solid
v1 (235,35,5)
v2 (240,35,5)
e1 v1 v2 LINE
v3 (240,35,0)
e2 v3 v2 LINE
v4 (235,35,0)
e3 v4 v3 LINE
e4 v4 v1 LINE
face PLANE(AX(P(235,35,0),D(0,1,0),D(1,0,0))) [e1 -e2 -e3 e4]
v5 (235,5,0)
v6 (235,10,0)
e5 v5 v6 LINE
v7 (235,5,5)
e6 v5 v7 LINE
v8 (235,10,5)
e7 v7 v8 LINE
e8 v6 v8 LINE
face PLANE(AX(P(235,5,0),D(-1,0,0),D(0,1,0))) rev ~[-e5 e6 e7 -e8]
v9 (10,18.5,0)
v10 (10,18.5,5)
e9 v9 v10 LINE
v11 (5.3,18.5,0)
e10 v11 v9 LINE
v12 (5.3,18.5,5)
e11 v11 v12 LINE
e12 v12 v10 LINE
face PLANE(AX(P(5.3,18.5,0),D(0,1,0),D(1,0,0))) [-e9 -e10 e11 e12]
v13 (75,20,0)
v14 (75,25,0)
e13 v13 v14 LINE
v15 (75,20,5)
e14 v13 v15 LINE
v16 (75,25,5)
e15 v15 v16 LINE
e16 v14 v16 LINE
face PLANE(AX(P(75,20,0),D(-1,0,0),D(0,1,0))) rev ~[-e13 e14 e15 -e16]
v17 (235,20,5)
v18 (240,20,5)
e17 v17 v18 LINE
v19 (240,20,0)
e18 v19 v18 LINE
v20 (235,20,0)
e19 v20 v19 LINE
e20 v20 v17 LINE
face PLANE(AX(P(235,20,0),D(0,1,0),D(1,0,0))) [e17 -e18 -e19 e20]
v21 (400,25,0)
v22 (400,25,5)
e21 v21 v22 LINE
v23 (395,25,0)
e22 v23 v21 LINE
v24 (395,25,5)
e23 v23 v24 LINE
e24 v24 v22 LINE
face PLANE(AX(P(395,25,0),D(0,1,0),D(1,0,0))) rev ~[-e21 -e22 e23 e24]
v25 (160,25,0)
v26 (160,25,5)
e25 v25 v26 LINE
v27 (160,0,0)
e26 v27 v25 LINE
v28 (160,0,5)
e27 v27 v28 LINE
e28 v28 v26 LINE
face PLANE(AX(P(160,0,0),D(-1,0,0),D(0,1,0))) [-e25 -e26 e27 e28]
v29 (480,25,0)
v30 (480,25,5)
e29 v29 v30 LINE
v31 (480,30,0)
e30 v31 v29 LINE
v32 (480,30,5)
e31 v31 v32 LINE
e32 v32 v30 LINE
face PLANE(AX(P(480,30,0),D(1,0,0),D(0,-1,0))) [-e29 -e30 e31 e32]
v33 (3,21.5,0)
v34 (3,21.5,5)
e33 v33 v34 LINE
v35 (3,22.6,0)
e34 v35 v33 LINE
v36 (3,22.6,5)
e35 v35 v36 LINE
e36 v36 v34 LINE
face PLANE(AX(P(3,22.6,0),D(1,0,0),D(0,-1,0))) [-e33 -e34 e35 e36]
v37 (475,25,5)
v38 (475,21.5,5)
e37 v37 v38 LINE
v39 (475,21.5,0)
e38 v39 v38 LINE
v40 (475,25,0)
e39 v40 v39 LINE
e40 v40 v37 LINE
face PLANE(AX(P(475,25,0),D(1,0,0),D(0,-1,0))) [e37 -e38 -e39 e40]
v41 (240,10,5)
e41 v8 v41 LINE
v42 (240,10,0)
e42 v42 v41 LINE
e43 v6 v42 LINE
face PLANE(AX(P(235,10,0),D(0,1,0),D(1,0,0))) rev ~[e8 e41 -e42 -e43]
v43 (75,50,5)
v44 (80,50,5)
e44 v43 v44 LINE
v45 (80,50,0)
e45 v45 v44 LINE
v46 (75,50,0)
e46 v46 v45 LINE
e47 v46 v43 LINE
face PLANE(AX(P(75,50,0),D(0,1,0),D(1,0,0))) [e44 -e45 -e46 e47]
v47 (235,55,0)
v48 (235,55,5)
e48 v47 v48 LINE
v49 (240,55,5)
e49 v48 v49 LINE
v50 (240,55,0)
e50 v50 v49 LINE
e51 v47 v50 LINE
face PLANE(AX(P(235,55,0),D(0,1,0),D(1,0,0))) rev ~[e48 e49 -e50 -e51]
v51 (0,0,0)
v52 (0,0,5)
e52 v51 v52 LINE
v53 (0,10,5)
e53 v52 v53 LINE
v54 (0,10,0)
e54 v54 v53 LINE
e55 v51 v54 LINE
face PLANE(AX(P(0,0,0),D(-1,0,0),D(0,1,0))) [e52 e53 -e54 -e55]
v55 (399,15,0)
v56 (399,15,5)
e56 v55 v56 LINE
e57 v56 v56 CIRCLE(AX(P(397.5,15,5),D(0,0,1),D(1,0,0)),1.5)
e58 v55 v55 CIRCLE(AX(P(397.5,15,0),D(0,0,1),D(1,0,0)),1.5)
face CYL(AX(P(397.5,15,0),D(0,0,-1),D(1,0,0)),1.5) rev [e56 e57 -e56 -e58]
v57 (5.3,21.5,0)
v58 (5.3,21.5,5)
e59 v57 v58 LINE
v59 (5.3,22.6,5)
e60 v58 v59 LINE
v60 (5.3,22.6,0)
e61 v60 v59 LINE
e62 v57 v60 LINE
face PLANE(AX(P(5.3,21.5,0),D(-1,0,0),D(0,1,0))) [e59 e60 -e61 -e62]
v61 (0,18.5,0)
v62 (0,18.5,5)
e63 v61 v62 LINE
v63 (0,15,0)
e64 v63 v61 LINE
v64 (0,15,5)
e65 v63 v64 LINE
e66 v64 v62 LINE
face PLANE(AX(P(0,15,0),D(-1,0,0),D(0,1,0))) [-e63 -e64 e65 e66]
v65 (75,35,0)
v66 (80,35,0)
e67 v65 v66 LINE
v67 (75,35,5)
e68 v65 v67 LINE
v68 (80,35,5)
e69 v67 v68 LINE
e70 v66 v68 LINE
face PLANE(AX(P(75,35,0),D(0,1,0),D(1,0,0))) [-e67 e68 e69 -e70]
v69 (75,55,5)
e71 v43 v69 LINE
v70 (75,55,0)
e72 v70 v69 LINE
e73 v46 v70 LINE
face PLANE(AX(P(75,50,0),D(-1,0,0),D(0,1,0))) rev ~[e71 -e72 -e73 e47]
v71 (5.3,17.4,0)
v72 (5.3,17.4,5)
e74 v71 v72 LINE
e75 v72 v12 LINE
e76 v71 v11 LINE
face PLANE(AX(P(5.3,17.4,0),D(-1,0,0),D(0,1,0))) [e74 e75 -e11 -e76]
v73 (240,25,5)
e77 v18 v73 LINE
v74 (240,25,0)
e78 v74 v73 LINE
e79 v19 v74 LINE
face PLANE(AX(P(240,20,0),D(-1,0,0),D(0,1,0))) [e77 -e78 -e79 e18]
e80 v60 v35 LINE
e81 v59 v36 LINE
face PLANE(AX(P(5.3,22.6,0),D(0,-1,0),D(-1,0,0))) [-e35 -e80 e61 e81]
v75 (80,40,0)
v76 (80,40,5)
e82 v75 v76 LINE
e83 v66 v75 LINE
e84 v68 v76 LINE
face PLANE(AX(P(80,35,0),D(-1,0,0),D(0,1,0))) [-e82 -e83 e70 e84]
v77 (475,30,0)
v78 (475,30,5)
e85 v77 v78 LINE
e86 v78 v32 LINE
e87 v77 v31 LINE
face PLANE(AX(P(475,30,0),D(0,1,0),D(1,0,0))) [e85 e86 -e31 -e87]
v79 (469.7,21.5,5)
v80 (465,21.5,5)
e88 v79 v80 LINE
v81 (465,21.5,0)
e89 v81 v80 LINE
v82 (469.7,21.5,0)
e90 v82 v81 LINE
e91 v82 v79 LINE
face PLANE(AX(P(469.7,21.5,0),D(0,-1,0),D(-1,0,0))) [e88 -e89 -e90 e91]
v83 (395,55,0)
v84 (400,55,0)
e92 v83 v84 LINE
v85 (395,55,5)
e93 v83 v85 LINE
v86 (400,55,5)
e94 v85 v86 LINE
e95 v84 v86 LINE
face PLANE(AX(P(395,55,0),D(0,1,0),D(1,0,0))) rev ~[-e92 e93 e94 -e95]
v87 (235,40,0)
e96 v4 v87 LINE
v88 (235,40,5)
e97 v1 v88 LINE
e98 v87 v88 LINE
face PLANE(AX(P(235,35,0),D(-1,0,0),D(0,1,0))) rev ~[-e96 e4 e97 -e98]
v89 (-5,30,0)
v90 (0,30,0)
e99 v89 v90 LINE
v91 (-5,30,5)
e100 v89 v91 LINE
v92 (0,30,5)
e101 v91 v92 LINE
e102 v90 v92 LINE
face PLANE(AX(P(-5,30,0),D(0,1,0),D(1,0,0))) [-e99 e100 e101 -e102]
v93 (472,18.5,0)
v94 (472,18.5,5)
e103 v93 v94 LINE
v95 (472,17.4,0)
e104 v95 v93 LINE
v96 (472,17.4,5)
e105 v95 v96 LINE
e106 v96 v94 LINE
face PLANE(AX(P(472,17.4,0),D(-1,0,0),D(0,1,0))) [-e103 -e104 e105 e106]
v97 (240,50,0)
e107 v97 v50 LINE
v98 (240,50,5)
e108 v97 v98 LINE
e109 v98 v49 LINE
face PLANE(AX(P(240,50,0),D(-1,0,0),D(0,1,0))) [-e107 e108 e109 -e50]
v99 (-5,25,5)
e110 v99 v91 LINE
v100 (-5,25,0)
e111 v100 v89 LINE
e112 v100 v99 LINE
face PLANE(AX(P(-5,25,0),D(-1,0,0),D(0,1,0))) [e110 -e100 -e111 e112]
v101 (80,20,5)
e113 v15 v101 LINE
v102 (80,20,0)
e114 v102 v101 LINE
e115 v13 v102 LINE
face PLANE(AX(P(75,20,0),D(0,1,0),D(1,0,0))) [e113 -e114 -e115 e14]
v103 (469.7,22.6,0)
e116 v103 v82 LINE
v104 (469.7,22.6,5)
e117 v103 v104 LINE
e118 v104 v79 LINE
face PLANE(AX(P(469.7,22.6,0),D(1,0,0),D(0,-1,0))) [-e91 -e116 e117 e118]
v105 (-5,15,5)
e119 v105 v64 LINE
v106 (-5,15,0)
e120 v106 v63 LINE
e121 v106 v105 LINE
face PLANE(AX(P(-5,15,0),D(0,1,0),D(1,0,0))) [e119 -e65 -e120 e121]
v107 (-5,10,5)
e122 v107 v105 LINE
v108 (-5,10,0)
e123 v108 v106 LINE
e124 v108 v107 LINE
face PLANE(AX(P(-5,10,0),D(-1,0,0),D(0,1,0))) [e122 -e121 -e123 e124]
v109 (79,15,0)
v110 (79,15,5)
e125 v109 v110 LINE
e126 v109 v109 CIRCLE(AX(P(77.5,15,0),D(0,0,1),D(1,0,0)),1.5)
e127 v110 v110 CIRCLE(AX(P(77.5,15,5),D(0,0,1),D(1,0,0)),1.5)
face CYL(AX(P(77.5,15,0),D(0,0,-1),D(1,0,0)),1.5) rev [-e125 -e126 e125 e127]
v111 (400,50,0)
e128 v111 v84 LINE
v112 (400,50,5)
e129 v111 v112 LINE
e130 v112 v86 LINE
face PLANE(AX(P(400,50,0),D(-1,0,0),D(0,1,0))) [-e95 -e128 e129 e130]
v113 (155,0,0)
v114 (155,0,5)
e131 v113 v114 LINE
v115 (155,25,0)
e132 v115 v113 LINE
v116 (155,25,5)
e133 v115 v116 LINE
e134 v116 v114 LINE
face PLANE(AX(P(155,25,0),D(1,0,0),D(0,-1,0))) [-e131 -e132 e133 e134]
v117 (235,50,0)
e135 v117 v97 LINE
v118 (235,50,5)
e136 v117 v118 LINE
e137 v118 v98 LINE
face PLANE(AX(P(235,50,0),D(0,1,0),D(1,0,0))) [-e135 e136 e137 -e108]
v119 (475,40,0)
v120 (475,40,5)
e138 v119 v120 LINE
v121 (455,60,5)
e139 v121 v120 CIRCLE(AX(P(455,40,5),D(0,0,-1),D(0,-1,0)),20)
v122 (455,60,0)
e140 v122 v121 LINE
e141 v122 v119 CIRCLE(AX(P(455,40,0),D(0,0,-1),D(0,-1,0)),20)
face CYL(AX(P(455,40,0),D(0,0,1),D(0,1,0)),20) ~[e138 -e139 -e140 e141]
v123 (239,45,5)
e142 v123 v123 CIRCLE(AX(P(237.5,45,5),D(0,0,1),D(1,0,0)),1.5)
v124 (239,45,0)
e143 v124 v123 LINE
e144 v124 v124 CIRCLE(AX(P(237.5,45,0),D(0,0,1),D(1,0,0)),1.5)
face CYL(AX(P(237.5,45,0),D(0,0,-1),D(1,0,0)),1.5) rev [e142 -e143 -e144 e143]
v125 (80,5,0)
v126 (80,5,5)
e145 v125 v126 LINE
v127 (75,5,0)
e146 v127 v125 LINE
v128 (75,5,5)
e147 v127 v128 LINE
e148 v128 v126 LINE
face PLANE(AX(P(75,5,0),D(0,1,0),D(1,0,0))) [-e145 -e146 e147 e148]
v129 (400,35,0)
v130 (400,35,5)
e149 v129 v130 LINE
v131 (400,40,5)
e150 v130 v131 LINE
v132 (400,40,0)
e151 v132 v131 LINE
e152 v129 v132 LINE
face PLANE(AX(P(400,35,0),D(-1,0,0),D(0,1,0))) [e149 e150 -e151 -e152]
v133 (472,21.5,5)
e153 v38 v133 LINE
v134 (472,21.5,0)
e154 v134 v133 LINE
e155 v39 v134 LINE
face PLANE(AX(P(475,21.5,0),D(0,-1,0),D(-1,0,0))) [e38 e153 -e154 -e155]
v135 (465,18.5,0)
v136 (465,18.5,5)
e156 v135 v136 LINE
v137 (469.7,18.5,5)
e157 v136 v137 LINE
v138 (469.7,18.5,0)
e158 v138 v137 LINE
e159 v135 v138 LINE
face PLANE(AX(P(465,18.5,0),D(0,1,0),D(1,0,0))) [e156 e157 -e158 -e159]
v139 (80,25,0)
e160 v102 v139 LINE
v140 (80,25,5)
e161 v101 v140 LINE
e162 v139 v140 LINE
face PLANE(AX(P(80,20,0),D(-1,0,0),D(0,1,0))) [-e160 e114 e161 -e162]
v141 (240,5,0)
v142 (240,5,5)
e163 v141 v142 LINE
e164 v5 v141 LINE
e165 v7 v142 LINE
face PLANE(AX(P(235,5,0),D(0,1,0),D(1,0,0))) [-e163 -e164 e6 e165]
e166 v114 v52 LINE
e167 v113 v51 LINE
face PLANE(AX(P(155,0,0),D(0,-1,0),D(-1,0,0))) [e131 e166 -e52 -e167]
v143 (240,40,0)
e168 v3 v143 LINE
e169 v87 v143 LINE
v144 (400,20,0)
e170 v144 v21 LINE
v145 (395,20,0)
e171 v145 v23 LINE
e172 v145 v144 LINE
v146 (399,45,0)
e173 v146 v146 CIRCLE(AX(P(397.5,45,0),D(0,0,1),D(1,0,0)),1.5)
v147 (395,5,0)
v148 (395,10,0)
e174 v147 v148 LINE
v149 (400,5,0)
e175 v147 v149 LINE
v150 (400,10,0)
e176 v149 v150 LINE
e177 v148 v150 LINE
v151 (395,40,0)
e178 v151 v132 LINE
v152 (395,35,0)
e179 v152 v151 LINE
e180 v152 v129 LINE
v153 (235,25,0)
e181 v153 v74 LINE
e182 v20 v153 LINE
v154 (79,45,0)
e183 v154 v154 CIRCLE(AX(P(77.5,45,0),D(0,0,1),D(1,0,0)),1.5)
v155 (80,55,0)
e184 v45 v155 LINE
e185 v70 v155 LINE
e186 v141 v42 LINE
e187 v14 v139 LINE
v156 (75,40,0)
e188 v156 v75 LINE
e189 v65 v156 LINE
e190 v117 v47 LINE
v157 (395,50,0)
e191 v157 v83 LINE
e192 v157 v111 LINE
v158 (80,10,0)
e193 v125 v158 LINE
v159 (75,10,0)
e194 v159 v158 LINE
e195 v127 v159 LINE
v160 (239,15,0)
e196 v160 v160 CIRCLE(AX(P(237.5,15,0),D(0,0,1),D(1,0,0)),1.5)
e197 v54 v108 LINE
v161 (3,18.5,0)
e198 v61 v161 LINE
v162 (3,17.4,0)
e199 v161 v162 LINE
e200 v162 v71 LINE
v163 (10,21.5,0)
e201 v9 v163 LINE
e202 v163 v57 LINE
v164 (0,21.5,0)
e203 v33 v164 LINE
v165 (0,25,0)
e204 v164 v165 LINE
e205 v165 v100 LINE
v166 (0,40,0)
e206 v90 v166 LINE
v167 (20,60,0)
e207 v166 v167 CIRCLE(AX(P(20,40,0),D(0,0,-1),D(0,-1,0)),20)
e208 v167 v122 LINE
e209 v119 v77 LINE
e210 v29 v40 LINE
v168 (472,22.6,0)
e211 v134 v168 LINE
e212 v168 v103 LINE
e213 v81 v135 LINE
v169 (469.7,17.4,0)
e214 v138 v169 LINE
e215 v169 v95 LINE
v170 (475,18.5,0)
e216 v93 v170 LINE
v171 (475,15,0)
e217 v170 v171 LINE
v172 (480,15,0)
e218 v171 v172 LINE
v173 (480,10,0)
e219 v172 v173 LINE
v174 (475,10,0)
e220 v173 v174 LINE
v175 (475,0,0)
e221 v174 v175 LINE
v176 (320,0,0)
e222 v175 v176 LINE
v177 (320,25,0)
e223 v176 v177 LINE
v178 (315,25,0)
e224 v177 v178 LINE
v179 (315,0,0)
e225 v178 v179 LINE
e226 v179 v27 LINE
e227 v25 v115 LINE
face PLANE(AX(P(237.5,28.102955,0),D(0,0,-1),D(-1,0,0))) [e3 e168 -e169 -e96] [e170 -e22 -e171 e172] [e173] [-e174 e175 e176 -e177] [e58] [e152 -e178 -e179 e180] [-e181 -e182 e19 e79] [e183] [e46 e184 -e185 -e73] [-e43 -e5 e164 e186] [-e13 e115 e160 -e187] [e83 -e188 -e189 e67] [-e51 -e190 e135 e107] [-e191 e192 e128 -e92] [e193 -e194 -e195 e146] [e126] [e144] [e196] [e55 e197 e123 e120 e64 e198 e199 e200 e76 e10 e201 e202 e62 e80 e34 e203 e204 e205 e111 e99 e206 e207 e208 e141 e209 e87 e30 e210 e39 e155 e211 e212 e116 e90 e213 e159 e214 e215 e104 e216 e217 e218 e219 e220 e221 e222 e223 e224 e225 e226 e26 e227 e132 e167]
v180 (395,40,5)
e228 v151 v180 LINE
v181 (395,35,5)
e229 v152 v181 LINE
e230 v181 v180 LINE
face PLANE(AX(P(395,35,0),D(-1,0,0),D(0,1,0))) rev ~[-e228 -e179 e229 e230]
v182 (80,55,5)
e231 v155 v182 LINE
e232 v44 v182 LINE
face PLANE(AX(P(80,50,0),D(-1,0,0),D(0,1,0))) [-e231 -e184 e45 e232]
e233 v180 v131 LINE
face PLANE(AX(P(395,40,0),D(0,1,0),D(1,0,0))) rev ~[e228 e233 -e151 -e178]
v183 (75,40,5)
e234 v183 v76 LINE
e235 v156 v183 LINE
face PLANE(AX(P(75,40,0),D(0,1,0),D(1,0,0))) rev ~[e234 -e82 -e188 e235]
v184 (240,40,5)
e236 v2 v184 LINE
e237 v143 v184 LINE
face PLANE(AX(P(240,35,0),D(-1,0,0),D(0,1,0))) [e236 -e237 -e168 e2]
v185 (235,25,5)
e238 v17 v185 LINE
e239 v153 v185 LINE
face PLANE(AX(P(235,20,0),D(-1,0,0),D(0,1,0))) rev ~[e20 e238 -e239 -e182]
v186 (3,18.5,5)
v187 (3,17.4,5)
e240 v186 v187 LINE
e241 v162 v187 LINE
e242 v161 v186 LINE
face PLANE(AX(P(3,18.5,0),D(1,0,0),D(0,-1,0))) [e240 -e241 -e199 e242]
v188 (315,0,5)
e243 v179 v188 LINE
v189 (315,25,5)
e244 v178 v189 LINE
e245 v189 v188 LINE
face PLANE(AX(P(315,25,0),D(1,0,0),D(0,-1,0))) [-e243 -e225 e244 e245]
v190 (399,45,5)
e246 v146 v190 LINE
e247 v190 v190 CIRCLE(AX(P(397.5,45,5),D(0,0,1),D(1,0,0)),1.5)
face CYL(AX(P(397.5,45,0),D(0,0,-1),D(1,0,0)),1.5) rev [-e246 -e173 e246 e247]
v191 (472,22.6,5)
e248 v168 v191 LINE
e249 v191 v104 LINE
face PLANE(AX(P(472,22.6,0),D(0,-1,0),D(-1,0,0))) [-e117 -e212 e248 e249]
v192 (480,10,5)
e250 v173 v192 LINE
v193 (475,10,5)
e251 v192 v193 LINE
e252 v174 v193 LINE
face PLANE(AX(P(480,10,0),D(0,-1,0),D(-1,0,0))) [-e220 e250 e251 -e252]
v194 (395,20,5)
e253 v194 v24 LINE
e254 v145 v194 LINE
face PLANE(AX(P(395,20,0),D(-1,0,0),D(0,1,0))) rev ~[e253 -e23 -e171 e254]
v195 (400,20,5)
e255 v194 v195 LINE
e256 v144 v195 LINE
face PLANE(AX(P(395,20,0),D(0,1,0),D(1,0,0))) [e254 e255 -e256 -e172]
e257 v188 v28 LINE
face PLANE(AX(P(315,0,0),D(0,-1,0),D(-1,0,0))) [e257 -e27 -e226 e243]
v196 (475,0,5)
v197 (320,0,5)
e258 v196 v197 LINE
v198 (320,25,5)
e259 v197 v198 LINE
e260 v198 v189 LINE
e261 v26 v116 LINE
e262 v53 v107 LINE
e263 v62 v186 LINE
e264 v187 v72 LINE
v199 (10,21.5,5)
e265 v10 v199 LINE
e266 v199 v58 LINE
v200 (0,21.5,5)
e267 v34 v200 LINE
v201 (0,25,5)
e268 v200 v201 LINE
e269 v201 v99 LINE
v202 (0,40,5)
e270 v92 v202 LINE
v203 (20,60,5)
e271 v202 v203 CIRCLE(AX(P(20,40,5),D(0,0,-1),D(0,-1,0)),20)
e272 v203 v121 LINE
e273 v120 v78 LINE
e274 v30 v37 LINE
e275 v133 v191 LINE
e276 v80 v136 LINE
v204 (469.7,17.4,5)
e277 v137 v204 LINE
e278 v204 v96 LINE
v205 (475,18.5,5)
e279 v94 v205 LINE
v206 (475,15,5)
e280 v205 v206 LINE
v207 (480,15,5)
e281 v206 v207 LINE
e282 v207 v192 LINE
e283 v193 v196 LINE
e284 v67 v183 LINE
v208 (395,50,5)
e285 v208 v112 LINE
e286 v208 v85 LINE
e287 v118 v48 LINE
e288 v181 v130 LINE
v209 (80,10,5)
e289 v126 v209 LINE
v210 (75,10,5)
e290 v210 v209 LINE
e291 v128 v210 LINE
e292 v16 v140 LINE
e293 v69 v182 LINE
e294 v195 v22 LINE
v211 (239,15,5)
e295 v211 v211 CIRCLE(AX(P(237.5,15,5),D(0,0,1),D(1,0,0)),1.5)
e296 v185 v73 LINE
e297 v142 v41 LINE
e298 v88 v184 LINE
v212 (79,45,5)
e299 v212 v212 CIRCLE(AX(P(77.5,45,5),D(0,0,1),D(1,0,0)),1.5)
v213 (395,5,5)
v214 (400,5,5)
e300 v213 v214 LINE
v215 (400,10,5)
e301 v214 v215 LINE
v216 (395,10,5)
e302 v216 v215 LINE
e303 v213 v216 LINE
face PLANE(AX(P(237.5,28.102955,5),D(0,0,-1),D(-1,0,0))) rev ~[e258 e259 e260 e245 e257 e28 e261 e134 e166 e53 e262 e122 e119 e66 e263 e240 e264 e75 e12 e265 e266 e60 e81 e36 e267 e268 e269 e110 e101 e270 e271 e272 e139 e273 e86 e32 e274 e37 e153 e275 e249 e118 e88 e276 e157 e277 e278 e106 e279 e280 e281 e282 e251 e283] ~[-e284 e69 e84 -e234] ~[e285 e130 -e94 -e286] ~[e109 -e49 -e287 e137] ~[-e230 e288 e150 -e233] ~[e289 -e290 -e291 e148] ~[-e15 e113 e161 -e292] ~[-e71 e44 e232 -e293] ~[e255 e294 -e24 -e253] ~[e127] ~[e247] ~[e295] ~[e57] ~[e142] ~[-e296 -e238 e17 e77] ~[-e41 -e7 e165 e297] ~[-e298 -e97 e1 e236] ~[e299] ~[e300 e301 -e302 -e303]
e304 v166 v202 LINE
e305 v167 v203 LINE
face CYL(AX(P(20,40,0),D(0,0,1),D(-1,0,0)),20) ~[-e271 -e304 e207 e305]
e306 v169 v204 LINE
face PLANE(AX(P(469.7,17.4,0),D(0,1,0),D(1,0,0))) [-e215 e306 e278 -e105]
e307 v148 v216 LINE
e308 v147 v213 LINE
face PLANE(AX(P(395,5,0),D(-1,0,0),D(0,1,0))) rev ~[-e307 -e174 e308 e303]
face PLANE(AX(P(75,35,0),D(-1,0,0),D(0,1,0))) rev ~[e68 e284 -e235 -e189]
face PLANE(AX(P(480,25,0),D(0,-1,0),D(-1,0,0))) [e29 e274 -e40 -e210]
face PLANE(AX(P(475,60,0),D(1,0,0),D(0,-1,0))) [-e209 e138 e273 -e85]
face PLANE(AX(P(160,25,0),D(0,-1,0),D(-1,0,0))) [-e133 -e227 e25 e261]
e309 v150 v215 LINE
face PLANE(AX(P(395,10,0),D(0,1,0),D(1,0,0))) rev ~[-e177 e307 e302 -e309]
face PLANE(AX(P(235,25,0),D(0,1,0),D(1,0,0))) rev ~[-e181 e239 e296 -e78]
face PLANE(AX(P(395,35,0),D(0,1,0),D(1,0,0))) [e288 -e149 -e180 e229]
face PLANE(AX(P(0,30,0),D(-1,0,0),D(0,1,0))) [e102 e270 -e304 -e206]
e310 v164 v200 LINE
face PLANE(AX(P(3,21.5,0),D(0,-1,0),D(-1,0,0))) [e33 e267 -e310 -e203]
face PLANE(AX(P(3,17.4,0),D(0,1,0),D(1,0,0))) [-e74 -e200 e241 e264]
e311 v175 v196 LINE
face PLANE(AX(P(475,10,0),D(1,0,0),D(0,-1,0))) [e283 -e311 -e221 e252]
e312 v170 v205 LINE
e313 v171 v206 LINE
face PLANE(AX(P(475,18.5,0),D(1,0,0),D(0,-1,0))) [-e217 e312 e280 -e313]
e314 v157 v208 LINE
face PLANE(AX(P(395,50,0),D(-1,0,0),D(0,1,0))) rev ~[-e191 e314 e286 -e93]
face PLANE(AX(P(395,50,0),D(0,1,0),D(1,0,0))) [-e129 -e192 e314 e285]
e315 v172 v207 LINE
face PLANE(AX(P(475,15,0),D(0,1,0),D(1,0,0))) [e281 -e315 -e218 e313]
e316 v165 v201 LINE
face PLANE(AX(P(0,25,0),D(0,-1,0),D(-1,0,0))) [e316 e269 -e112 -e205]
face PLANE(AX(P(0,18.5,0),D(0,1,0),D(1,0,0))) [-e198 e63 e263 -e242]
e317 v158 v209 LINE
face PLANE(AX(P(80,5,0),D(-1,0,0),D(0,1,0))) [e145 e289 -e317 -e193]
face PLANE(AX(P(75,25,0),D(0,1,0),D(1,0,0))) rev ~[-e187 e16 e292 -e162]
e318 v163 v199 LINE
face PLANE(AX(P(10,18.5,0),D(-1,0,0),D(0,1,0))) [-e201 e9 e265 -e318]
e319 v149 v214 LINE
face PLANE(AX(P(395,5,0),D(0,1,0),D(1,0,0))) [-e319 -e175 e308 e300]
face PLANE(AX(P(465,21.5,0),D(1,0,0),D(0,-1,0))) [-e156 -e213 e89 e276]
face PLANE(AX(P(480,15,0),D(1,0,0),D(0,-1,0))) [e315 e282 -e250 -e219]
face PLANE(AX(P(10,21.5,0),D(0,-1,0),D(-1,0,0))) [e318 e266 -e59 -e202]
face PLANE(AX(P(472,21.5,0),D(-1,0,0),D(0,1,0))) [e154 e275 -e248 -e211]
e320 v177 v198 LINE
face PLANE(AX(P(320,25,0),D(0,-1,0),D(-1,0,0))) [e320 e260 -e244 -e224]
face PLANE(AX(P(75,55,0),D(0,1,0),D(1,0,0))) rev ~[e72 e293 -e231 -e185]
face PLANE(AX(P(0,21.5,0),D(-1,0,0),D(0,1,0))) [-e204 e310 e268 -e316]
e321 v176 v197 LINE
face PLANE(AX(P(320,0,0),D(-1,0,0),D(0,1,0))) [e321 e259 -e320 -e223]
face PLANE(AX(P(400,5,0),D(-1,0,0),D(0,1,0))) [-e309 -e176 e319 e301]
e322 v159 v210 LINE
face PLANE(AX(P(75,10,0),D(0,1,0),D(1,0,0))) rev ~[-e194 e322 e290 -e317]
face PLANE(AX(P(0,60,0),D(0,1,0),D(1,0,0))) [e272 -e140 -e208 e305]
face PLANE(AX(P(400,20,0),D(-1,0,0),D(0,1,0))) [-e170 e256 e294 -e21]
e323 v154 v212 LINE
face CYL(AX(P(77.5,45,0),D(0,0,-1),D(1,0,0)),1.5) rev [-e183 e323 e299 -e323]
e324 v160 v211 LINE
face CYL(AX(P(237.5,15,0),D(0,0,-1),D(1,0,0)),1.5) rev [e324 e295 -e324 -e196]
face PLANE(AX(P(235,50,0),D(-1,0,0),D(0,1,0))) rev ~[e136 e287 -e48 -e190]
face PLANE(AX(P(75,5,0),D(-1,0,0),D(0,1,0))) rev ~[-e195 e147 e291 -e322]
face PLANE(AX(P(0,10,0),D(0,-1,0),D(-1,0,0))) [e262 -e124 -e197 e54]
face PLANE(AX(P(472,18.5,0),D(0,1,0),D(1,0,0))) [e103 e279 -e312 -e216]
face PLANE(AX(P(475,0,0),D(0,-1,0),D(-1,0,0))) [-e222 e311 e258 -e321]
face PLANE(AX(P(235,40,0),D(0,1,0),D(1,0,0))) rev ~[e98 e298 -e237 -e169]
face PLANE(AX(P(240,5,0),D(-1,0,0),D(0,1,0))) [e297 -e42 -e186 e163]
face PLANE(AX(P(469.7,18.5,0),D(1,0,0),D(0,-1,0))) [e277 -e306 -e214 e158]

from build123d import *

# Parameters (mm, degrees)
ESQUISSE1_R        = 1.5
ESQUISSE1_W        = 5
ESQUISSE1_H        = 5
BOSS_EXTRU_1_DEPTH = 5
CONG_1_R           = 20


with BuildPart() as part:
    # Esquisse1 → Boss.-Extru.1 (new body)
    with BuildSketch(Plane.XY):
        Polygon((0, 21.5), (0, 25), (-5, 25), (-5, 30), (0, 30), (0, 60), (475, 60), (475, 30), (480, 30), (480, 25), (475, 25), (475, 21.5), (472, 21.5), (472, 22.6), (469.7, 22.6), (469.7, 21.5), (465, 21.5), (465, 18.5), (469.7, 18.5), (469.7, 17.4), (472, 17.4), (472, 18.5), (475, 18.5), (475, 15), (480, 15), (480, 10), (475, 10), (475, 0), (320, 0), (320, 25), (315, 25), (315, 0), (160, 0), (160, 25), (155, 25), (155, 0), (0, 0), (0, 10), (-5, 10), (-5, 15), (0, 15), (0, 18.5), (3, 18.5), (3, 17.4), (5.3, 17.4), (5.3, 18.5), (10, 18.5), (10, 21.5), (5.3, 21.5), (5.3, 22.6), (3, 22.6), (3, 21.5), align=None)
        with Locations((397.5, 15)):
            Circle(ESQUISSE1_R, mode=Mode.SUBTRACT)
        with Locations((397.5, 45)):
            Circle(ESQUISSE1_R, mode=Mode.SUBTRACT)
        with Locations((237.5, 15)):
            Circle(ESQUISSE1_R, mode=Mode.SUBTRACT)
        with Locations((237.5, 45)):
            Circle(ESQUISSE1_R, mode=Mode.SUBTRACT)
        with Locations((77.5, 15)):
            Circle(ESQUISSE1_R, mode=Mode.SUBTRACT)
        with Locations((77.5, 45)):
            Circle(ESQUISSE1_R, mode=Mode.SUBTRACT)
        with Locations((397.5, 7.5)):
            Rectangle(ESQUISSE1_W, ESQUISSE1_H, mode=Mode.SUBTRACT)
        with Locations((397.5, 22.5)):
            Rectangle(ESQUISSE1_W, ESQUISSE1_H, mode=Mode.SUBTRACT)
        with Locations((397.5, 37.5)):
            Rectangle(ESQUISSE1_W, ESQUISSE1_H, mode=Mode.SUBTRACT)
        with Locations((397.5, 52.5)):
            Rectangle(ESQUISSE1_W, ESQUISSE1_H, mode=Mode.SUBTRACT)
        with Locations((237.5, 7.5)):
            Rectangle(ESQUISSE1_W, ESQUISSE1_H, mode=Mode.SUBTRACT)
        with Locations((237.5, 22.5)):
            Rectangle(ESQUISSE1_W, ESQUISSE1_H, mode=Mode.SUBTRACT)
        with Locations((237.5, 37.5)):
            Rectangle(ESQUISSE1_W, ESQUISSE1_H, mode=Mode.SUBTRACT)
        with Locations((237.5, 52.5)):
            Rectangle(ESQUISSE1_W, ESQUISSE1_H, mode=Mode.SUBTRACT)
        with Locations((77.5, 7.5)):
            Rectangle(ESQUISSE1_W, ESQUISSE1_H, mode=Mode.SUBTRACT)
        with Locations((77.5, 22.5)):
            Rectangle(ESQUISSE1_W, ESQUISSE1_H, mode=Mode.SUBTRACT)
        with Locations((77.5, 37.5)):
            Rectangle(ESQUISSE1_W, ESQUISSE1_H, mode=Mode.SUBTRACT)
        with Locations((77.5, 52.5)):
            Rectangle(ESQUISSE1_W, ESQUISSE1_H, mode=Mode.SUBTRACT)
    extrude(amount=BOSS_EXTRU_1_DEPTH)

    # Congé1
    cong_1_edges = [part.edges().sort_by_distance(p)[0] for p in [
        (0, 60, 2.5),
        (475, 60, 2.5),
    ]]
    fillet(cong_1_edges, radius=CONG_1_R)


solid = part.part
